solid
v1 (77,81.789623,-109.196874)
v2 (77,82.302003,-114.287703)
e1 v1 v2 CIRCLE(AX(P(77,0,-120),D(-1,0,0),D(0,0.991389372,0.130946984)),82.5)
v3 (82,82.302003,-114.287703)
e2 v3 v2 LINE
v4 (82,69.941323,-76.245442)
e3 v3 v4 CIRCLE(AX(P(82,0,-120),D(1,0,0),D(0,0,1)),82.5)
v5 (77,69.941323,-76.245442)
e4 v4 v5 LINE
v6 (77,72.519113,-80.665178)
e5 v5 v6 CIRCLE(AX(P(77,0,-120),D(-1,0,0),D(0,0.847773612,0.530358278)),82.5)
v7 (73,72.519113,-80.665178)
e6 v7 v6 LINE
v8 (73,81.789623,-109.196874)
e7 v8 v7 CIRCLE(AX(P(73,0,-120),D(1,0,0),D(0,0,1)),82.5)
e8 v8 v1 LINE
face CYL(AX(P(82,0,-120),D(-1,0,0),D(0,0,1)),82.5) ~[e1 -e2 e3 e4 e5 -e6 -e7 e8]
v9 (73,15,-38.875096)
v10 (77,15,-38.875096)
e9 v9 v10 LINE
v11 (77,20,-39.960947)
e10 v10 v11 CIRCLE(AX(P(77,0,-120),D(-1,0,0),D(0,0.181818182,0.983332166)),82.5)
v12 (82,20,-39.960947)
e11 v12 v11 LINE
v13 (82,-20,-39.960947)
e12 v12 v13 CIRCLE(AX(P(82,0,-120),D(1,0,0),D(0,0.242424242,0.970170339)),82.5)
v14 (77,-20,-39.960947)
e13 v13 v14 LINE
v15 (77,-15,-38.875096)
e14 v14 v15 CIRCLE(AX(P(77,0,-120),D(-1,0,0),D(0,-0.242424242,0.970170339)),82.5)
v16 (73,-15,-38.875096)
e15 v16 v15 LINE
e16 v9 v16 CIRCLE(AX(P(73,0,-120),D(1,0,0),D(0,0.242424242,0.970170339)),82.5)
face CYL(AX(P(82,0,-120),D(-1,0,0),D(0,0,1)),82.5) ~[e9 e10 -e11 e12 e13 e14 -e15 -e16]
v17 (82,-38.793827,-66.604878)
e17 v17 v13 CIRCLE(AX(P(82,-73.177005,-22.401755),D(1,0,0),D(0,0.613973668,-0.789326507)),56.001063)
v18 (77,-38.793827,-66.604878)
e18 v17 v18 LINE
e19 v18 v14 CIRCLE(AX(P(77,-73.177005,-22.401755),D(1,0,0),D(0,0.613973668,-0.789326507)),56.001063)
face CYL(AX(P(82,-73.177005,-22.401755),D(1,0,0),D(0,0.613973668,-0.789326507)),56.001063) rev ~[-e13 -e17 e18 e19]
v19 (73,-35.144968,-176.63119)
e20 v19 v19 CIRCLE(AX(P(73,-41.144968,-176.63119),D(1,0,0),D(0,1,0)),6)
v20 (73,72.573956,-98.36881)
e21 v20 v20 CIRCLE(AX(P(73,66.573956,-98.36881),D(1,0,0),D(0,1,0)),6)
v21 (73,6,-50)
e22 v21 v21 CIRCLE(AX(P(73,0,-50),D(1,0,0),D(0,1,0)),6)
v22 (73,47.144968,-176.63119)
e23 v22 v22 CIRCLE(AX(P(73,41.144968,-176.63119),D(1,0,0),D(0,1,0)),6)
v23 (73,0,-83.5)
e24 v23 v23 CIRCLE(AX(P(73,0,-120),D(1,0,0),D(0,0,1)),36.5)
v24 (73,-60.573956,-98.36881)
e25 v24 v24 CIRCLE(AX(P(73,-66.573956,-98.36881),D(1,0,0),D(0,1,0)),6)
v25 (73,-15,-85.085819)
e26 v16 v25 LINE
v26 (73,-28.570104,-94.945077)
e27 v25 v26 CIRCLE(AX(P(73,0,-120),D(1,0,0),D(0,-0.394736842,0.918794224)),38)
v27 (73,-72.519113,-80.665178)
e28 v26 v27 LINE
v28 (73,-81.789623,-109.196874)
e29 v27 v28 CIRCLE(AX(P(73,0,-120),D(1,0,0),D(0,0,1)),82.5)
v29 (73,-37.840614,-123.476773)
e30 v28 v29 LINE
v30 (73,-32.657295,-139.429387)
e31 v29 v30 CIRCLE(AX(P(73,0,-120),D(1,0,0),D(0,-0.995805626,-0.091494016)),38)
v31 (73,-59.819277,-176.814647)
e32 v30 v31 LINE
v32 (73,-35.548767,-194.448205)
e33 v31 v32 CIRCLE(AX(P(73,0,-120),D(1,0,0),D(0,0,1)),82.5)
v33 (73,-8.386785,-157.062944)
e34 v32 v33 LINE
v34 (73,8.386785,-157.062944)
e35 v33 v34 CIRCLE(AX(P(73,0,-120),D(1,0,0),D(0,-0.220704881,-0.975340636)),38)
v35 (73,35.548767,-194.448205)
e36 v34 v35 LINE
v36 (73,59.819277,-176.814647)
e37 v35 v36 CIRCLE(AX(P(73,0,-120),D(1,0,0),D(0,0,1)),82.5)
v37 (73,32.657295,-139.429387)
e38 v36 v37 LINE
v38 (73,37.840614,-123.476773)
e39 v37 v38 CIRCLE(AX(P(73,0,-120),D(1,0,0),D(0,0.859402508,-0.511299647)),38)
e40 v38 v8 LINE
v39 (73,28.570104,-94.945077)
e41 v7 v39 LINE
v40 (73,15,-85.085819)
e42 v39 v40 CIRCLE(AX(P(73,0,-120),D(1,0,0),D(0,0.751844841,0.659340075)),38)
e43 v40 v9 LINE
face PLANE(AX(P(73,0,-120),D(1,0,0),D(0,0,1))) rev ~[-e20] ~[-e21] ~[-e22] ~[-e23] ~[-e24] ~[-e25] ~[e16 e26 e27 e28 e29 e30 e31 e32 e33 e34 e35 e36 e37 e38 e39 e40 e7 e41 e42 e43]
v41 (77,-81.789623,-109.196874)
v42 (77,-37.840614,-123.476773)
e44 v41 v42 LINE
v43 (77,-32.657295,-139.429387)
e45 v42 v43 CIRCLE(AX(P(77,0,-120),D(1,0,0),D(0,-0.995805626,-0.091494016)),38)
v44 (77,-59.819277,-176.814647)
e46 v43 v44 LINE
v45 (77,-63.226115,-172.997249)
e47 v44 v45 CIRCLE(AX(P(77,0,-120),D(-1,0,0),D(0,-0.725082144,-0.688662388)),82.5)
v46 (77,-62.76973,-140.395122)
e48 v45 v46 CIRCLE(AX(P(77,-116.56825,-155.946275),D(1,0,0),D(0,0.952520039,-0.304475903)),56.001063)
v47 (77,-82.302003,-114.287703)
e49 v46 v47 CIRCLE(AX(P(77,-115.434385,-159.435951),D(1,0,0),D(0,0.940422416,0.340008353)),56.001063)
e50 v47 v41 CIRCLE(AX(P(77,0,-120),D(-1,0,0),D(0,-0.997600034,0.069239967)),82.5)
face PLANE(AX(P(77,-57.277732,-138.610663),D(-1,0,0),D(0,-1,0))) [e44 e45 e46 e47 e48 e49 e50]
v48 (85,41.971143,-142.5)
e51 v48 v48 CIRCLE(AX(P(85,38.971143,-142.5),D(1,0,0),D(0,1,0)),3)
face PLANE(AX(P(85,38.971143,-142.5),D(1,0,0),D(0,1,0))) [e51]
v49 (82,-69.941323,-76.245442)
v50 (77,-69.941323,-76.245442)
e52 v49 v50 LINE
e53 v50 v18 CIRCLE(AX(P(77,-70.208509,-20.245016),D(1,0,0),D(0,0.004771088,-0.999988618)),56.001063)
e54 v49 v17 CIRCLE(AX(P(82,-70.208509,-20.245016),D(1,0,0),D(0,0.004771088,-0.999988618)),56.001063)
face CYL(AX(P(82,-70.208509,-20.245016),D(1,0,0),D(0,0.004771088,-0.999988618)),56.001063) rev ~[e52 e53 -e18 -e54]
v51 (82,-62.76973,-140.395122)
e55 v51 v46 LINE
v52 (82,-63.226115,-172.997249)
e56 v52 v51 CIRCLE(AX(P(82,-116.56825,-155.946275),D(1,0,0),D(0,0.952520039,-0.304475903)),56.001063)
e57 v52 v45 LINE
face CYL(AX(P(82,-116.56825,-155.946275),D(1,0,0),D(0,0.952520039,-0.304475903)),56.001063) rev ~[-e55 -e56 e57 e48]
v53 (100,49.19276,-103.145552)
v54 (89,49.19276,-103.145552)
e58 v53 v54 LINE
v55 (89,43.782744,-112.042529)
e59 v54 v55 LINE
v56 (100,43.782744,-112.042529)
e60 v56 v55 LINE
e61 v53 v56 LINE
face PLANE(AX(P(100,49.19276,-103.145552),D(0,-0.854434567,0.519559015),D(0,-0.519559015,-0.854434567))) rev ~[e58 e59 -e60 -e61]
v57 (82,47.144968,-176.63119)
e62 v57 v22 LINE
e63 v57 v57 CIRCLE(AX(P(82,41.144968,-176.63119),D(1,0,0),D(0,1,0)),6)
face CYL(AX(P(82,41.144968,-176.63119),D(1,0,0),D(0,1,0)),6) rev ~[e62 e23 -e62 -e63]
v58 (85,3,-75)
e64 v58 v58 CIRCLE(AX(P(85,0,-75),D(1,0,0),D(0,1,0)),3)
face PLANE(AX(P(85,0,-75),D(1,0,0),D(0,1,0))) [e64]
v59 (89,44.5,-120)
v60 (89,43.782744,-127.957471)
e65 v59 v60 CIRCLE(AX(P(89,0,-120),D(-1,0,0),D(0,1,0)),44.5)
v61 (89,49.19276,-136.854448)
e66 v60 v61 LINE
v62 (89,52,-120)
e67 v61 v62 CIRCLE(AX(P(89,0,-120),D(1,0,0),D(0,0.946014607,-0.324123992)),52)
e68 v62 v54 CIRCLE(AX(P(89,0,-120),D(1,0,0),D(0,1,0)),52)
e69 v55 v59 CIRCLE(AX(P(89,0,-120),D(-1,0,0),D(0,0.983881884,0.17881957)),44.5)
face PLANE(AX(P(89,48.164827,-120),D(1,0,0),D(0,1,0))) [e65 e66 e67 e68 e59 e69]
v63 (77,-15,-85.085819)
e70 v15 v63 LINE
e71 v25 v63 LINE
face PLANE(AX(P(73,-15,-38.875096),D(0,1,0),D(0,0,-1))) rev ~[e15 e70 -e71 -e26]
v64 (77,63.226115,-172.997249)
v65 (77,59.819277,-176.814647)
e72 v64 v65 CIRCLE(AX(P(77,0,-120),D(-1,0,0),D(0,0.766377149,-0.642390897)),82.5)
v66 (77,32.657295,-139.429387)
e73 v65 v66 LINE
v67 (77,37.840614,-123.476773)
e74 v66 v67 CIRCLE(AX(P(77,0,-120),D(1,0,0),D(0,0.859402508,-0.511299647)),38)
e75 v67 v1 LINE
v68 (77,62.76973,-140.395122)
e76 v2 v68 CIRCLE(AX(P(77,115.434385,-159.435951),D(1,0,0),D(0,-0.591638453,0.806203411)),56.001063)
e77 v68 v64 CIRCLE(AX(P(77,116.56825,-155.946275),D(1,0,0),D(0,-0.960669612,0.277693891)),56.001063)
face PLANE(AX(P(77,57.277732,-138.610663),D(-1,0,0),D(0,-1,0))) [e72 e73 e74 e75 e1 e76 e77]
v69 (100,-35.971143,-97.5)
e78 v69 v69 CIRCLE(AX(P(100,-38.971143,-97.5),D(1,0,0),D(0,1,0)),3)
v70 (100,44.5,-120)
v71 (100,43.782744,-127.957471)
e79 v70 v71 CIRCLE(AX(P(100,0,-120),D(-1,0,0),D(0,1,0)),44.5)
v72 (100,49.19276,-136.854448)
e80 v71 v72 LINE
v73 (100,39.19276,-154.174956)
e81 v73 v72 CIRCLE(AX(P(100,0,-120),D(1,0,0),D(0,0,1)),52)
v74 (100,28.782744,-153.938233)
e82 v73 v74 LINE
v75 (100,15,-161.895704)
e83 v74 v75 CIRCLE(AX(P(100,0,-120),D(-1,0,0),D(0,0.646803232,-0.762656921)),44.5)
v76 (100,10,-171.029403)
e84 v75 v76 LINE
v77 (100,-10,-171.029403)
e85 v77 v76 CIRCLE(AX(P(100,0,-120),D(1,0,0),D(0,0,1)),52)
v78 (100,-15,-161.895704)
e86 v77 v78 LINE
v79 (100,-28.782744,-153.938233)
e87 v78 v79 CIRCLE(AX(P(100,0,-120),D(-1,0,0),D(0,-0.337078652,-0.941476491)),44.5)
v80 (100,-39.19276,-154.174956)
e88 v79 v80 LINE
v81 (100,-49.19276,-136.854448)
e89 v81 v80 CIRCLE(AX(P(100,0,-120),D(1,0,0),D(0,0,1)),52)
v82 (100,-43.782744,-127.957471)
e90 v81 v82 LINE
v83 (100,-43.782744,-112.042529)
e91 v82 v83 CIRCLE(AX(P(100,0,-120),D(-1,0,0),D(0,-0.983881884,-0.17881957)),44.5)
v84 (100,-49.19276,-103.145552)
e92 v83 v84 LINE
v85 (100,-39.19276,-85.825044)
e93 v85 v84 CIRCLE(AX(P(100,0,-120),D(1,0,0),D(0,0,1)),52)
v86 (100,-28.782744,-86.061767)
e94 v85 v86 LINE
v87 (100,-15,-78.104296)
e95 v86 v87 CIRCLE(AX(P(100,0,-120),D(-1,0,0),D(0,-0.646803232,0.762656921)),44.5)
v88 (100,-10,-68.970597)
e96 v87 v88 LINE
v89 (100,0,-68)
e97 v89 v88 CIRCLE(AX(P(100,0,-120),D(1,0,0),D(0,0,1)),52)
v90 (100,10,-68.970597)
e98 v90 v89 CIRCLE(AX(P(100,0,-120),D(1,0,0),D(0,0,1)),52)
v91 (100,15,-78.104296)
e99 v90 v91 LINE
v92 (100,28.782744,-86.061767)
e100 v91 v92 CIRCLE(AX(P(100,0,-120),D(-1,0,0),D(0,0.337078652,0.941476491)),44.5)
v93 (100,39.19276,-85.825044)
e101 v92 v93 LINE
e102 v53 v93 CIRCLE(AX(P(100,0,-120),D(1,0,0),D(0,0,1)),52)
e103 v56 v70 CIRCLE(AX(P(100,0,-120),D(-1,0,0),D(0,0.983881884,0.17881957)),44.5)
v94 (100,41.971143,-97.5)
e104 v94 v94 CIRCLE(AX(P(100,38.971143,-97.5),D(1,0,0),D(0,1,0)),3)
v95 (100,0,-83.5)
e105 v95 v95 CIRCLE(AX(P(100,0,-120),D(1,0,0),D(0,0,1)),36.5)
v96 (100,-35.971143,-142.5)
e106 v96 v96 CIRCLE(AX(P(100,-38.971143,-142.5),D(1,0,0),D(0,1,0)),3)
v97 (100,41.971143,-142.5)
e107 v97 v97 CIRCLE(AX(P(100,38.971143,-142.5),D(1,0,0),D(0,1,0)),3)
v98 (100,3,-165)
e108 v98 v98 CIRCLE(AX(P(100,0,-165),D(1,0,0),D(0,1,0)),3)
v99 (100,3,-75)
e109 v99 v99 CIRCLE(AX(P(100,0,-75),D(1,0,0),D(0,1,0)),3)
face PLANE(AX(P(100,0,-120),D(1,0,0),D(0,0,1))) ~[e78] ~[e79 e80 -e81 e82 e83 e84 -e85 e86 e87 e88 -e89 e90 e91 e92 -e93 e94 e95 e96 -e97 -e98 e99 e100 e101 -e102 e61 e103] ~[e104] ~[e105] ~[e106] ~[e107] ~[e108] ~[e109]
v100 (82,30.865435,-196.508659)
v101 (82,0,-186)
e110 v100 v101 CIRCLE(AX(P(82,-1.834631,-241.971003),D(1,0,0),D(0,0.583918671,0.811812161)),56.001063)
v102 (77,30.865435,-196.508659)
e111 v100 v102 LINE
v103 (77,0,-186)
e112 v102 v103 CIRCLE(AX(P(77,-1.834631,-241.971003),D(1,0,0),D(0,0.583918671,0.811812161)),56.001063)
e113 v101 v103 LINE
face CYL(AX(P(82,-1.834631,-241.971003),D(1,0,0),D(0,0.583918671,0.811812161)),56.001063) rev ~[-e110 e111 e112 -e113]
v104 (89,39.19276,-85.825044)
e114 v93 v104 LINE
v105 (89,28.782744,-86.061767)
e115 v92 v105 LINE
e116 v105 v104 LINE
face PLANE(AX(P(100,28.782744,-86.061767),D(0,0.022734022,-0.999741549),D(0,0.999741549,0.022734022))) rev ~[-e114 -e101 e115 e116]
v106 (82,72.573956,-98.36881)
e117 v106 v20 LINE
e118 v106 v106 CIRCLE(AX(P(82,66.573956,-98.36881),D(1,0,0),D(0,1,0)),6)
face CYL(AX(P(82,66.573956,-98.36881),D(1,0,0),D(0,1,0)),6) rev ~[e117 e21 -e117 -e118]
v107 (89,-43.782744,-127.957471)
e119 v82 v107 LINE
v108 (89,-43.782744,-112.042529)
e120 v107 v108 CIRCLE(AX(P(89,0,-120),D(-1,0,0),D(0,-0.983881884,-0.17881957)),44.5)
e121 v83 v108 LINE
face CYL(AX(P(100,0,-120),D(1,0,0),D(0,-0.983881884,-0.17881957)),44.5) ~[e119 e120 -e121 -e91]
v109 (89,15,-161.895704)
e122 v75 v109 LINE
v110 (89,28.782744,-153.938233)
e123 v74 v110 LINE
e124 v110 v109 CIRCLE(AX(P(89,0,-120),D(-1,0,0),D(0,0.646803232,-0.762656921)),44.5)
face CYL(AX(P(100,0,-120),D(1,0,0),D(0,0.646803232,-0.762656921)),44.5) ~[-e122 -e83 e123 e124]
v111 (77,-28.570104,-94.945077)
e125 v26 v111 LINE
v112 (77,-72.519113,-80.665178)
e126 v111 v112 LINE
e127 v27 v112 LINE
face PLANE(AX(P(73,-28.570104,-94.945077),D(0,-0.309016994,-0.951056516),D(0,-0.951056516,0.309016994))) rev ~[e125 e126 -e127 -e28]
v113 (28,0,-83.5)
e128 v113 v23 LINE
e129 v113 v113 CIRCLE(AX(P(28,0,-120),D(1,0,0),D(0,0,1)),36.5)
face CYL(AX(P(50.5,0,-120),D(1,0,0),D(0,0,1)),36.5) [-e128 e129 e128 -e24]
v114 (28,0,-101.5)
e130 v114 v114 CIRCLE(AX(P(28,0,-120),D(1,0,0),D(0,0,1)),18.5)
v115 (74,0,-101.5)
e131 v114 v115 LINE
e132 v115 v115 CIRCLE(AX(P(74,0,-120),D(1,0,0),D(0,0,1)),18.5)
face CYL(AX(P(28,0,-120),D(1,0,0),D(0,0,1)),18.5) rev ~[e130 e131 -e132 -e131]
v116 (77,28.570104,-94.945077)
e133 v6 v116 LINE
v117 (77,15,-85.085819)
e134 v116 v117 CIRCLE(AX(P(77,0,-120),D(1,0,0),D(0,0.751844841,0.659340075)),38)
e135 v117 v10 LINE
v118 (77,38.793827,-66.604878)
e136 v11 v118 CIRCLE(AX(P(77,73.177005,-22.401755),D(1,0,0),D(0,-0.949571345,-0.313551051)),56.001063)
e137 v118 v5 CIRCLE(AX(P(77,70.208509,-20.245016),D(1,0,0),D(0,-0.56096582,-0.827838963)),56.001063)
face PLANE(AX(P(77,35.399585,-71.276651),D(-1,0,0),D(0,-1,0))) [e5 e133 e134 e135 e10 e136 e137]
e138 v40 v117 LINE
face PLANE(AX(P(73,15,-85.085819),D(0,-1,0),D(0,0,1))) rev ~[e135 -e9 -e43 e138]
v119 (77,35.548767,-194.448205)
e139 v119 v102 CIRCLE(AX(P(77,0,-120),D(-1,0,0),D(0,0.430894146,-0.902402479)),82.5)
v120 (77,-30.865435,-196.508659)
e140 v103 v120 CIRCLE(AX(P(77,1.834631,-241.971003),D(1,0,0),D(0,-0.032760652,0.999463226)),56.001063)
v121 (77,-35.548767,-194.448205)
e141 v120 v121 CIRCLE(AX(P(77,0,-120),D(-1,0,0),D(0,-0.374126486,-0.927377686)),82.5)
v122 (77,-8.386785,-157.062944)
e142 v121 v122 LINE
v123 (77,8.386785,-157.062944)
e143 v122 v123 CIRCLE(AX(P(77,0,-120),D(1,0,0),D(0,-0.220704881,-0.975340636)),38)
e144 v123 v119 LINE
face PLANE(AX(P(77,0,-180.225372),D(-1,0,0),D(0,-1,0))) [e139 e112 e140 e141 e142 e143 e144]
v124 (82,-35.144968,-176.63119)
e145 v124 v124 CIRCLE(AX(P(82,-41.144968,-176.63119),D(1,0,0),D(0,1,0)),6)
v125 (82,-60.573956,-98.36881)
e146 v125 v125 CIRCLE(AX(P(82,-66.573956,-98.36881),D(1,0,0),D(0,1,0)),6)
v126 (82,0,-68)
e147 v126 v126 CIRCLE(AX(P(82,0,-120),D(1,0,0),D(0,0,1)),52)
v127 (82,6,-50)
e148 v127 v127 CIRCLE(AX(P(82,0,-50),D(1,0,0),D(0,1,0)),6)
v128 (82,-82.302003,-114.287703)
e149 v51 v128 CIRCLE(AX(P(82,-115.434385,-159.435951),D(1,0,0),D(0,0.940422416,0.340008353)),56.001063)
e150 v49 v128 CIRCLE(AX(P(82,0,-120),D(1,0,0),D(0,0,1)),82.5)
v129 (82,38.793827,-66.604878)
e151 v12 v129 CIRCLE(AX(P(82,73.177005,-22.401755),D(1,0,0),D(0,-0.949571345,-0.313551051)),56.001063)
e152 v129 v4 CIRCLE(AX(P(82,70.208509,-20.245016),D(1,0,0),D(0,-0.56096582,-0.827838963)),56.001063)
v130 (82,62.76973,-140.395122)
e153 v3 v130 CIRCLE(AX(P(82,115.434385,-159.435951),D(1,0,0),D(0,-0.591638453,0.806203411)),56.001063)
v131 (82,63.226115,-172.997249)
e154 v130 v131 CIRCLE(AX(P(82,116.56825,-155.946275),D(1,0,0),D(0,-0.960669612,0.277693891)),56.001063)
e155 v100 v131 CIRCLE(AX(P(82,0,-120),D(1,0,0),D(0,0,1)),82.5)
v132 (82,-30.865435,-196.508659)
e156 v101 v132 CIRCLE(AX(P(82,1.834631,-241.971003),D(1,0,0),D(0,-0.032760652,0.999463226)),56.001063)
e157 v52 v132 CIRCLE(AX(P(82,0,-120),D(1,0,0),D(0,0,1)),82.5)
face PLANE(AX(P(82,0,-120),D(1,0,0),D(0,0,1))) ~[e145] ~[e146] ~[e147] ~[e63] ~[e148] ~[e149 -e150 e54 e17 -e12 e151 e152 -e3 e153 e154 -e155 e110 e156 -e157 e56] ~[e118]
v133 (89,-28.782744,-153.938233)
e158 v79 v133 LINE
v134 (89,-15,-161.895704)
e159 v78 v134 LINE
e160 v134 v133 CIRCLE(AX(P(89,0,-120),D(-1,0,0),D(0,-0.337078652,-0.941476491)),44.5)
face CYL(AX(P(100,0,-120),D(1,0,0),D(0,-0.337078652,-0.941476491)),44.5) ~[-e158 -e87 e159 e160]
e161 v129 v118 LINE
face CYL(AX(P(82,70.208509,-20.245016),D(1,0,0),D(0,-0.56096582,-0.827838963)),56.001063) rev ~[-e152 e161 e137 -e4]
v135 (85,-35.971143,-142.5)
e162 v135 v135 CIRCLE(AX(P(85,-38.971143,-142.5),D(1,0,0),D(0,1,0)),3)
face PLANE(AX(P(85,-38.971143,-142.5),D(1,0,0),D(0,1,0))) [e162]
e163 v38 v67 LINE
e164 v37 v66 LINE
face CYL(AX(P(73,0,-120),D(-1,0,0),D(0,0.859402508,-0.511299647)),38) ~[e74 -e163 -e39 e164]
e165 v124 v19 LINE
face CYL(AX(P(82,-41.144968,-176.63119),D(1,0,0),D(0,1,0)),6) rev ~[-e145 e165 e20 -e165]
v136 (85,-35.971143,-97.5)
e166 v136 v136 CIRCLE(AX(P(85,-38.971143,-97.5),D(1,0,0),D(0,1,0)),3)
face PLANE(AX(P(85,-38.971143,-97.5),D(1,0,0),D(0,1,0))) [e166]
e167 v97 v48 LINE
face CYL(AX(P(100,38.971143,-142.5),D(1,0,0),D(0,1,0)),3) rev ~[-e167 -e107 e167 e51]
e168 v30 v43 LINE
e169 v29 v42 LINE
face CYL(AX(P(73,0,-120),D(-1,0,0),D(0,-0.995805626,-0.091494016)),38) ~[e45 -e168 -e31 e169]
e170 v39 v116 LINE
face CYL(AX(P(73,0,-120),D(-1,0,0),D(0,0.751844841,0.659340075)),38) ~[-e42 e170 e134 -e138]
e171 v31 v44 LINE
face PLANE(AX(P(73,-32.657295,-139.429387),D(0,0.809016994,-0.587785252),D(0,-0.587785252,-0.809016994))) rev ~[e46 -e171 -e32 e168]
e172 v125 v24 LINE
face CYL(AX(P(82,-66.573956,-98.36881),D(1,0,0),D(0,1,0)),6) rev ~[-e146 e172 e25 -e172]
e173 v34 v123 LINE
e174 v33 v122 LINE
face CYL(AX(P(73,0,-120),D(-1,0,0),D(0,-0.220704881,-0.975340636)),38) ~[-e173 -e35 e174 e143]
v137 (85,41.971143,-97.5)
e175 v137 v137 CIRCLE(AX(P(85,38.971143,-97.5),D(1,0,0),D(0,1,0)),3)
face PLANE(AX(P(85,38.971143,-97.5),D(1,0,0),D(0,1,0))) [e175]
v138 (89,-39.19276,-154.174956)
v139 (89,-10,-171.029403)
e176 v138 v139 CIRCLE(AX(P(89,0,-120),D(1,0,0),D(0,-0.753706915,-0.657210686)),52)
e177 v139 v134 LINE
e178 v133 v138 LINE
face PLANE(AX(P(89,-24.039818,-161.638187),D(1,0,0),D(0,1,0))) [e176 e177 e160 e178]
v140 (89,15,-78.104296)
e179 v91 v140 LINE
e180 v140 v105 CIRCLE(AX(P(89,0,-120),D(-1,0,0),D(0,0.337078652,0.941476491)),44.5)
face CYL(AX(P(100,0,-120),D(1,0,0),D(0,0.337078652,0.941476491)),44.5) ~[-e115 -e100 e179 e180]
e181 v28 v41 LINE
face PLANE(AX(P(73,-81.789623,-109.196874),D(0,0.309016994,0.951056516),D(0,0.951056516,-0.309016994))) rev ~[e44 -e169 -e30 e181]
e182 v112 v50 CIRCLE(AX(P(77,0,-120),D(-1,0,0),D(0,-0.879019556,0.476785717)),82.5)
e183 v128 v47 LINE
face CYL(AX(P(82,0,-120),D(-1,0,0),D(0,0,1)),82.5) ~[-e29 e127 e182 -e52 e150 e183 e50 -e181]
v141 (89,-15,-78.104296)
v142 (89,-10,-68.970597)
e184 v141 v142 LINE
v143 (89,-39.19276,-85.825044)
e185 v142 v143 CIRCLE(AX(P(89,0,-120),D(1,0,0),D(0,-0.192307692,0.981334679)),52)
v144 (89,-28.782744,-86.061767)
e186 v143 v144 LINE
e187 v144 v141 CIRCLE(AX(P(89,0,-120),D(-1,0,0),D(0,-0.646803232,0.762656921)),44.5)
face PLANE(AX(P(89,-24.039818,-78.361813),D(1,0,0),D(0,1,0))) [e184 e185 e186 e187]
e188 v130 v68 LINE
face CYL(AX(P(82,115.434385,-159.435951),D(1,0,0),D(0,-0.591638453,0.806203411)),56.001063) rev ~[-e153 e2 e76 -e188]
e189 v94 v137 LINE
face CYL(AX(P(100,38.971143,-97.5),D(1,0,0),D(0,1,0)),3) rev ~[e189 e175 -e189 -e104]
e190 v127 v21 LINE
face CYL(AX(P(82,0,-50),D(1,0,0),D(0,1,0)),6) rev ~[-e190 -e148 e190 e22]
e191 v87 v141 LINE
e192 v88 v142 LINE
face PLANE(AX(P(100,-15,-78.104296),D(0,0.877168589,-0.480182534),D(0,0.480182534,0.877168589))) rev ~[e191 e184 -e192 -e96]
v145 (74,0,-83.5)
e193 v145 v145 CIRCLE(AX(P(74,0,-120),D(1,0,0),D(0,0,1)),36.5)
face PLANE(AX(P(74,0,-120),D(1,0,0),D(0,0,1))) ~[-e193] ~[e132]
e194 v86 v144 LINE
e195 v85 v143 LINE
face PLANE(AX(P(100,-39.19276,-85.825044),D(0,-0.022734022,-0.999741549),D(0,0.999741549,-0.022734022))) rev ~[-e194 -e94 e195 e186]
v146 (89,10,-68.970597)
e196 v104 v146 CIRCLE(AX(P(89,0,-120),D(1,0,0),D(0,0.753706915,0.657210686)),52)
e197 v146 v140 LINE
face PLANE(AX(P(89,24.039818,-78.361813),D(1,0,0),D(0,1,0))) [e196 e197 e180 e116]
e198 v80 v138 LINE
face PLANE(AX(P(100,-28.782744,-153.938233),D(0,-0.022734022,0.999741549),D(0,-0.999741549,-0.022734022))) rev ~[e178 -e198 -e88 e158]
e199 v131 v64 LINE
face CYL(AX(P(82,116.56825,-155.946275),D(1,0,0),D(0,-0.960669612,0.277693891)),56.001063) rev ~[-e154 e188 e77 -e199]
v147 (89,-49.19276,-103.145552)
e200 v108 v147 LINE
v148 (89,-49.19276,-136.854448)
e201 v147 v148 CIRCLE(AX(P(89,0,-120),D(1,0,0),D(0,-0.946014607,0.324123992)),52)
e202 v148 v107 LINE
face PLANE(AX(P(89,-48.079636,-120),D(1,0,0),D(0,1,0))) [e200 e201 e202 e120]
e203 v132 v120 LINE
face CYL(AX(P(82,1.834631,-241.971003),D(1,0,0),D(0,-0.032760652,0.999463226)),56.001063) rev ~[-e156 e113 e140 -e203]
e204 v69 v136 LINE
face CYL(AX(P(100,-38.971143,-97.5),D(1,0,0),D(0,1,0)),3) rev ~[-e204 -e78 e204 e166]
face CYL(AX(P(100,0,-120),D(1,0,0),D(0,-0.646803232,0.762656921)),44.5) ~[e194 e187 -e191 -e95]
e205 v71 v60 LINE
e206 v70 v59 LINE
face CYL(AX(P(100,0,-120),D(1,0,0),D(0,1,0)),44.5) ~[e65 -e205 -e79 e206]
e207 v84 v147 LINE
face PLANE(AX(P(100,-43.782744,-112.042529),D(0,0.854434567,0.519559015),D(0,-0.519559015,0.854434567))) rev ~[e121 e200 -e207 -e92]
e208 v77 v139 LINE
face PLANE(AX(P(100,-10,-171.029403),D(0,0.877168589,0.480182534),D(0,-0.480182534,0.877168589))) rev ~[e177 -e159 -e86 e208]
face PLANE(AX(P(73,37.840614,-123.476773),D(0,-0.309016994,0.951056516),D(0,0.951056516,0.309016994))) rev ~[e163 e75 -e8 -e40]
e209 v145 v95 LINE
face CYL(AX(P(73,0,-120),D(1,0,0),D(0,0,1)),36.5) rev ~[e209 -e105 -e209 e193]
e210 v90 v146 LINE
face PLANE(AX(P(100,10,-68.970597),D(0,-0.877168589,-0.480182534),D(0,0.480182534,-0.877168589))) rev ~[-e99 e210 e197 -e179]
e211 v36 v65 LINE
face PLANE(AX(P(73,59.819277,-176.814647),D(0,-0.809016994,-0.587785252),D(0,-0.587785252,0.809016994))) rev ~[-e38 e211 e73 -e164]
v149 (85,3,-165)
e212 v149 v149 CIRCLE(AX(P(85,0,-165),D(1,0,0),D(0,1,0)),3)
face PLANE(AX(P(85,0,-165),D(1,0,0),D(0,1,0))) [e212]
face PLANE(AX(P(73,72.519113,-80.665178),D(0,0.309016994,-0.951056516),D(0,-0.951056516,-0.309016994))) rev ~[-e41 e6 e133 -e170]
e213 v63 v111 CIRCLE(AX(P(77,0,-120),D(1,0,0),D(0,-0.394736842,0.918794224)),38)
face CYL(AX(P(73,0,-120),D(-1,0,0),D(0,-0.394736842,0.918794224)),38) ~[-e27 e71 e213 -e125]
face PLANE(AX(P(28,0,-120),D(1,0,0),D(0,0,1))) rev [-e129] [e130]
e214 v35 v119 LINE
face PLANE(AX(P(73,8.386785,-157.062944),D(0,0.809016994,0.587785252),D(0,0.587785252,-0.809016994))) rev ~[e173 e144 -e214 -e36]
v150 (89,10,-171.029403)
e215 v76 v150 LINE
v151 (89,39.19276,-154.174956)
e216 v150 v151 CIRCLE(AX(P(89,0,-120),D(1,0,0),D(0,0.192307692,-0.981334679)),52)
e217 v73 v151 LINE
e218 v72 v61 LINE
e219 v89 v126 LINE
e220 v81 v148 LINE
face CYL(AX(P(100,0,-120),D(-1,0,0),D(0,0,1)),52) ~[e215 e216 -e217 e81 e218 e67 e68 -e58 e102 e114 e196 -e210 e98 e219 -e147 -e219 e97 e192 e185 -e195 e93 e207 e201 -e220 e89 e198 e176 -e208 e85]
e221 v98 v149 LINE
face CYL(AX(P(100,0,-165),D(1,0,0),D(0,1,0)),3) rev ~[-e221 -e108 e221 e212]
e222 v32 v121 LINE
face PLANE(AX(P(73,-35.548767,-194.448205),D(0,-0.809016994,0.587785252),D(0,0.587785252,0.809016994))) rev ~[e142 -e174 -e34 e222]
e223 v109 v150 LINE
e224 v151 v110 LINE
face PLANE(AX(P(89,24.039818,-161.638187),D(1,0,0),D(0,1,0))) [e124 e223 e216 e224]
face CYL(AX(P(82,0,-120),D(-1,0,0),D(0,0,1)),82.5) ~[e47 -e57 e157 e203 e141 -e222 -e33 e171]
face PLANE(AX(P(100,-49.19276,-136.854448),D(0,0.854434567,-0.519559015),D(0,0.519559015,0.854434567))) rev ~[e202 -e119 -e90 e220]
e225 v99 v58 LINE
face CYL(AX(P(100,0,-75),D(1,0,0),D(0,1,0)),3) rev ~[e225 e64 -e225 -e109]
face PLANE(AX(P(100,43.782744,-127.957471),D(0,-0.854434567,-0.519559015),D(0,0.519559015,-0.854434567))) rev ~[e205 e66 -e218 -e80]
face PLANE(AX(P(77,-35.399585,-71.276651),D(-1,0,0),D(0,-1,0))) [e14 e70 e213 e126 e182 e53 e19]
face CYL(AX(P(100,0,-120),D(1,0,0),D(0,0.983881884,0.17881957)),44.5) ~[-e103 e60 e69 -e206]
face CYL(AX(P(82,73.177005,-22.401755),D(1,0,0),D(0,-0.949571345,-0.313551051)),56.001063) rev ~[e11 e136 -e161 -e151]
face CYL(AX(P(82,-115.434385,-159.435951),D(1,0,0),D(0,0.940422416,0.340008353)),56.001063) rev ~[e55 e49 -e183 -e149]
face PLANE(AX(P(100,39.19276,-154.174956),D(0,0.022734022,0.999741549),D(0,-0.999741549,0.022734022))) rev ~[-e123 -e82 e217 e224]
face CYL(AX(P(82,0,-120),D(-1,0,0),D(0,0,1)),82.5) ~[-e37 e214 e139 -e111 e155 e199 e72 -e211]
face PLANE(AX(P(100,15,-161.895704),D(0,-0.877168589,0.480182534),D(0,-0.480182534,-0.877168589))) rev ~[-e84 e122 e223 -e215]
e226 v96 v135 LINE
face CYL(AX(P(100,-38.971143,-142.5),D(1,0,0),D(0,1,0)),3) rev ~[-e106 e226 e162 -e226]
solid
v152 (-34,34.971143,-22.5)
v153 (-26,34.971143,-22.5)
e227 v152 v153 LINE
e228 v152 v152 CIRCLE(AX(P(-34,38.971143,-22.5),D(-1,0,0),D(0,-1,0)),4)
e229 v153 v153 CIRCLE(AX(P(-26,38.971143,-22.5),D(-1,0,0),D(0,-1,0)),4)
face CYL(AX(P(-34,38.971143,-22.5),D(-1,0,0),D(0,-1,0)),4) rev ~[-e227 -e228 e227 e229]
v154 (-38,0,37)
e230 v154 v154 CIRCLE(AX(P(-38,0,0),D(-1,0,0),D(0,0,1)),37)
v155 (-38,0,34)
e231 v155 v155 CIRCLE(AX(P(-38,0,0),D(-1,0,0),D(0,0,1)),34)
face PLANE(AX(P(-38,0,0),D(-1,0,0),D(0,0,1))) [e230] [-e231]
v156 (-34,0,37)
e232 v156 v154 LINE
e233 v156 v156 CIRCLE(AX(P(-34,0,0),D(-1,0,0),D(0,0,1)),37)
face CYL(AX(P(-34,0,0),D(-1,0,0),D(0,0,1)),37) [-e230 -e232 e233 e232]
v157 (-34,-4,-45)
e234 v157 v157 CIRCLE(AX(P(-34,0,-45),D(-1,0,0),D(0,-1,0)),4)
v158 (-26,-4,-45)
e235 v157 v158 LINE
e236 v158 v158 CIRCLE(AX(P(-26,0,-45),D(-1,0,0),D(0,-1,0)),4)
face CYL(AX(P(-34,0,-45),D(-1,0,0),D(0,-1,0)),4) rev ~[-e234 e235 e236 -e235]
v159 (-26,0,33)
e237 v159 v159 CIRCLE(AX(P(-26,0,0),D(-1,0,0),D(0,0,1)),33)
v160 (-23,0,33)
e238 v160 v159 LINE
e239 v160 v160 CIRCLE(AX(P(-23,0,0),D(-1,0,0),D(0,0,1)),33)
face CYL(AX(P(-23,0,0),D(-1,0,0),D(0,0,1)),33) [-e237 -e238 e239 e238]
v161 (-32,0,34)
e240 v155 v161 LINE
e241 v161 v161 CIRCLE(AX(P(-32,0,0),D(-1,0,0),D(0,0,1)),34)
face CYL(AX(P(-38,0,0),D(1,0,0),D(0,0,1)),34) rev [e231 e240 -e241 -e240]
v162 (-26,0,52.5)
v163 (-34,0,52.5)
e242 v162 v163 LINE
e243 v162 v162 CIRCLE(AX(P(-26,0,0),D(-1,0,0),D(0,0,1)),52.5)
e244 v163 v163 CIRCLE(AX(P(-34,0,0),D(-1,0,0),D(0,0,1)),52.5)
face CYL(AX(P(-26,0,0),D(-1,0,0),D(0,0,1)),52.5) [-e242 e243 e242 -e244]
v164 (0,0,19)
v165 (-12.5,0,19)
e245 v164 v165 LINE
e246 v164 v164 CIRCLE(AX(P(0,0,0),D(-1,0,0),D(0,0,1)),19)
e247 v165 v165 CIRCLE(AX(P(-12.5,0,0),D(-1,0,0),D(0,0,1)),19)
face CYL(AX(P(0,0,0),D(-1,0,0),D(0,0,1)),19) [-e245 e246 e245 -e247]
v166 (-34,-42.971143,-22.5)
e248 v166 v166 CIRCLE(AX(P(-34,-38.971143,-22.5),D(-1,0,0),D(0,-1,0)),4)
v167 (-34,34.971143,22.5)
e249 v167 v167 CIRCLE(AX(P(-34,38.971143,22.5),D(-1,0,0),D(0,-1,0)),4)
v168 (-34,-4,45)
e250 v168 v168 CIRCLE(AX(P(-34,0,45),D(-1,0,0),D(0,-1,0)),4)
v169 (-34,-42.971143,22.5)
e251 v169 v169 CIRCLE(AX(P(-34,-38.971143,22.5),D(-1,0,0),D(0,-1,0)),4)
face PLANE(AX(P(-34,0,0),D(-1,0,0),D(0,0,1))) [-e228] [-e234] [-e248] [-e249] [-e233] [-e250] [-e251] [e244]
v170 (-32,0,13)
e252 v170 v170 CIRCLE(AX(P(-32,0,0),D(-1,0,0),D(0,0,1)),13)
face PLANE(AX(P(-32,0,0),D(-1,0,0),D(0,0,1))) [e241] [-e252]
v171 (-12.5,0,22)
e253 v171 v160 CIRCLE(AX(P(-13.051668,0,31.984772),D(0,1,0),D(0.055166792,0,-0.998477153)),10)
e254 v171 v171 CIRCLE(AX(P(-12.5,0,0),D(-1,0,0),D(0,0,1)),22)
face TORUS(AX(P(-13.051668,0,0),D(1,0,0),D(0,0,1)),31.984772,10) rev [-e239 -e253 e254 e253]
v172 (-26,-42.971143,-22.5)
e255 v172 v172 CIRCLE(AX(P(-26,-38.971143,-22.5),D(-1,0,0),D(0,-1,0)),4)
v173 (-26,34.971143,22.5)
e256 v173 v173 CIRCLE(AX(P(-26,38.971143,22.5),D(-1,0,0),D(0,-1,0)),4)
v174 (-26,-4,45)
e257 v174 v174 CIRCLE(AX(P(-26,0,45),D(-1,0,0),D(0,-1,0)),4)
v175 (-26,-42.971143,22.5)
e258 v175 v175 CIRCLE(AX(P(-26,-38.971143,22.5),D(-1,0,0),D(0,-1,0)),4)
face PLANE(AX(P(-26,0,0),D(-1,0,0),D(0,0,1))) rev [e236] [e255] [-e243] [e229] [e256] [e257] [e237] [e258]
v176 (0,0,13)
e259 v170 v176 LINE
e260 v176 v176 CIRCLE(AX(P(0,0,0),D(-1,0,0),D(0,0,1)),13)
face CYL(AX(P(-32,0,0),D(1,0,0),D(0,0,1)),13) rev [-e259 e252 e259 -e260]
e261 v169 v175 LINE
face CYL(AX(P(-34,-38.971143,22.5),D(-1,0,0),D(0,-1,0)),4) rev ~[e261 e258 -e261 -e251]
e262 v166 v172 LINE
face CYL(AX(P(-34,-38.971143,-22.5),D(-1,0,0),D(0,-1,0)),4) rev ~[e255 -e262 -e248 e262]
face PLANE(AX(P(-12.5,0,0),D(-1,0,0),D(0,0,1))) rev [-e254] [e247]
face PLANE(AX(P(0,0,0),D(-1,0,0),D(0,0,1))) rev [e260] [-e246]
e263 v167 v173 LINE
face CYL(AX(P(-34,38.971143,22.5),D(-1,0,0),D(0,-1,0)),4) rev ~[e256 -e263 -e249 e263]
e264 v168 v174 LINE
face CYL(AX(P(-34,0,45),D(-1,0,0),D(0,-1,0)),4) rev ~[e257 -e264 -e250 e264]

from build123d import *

# Parameters (mm, degrees)
F2_R      = 4
F3_DEPTH  = 8
F4_W      = 1
F4_H      = 18
F4_W_2    = 45
F6_R      = 6
F7_DEPTH  = 9
F9_DEPTH  = 9
F10_R     = 3
F11_DEPTH = 15
F13_DEPTH = 11
F15_DEPTH = 4


with BuildPart() as f1:
    # F0 (on Front) → F1 (revolve)
    with BuildSketch(Plane.XZ):
        with BuildLine():
            Line((0, 13), (0, 19))
            Line((0, 19), (-12.5, 19))
            Line((-12.5, 19), (-12.5, 22))
            ThreePointArc((-12.5, 22), (-20.2852233625, 25.0800140631), (-23, 33))
            Line((-23, 33), (-26, 33))
            Line((-26, 33), (-26, 52.5))
            Line((-26, 52.5), (-34, 52.5))
            Line((-34, 52.5), (-34, 37))
            Line((-34, 37), (-32, 37))
            Line((-32, 37), (-32, 34))
            Line((-32, 34), (-32, 13))
            Line((-32, 13), (0, 13))
        make_face()
        Polygon((-38, 34), (-32, 34), (-32, 37), (-34, 37), (-38, 37), align=None)
    revolve(axis=Axis((-19, 0, 0), (-1, 0, 0)))

    # F2 (on face) → F3 (cut)
    with BuildSketch(Plane(origin=(-34, 0, 0), x_dir=(0, -1, 0), z_dir=(-1, 0, 0))):
        with Locations((0, 45)):
            Circle(F2_R)
        with Locations((-38.9711431703, 22.5)):
            Circle(F2_R)
        with Locations((-38.9711431703, -22.5)):
            Circle(F2_R)
        with Locations((0, -45)):
            Circle(F2_R)
        with Locations((38.9711431703, -22.5)):
            Circle(F2_R)
        with Locations((38.9711431703, 22.5)):
            Circle(F2_R)
    extrude(amount=-F3_DEPTH, mode=Mode.SUBTRACT)


with BuildPart() as f5:
    # F4 (on Front) → F5 (revolve)
    with BuildSketch(Plane.XZ):
        Polygon((100, -83.5), (100, -68), (82, -68), (82, -37.5), (73, -37.5), (73, -83.5), (74, -83.5), align=None)
        with Locations((73.5, -92.5)):
            Rectangle(F4_W, F4_H)
        with Locations((50.5, -92.5)):
            Rectangle(F4_W_2, F4_H)
    revolve(axis=Axis((50, 0, -120), (1, 0, 0)))

    # F6 (on face) → F7 (cut)
    with BuildSketch(Plane.YZ.offset(82)):
        with Locations((0, -50)):
            Circle(F6_R)
        with Locations((66.5739561407, -98.3688103938)):
            Circle(F6_R)
        with Locations((41.1449676605, -176.6311896062)):
            Circle(F6_R)
        with Locations((-41.1449676605, -176.6311896062)):
            Circle(F6_R)
        with Locations((-66.5739561407, -98.3688103938)):
            Circle(F6_R)
    extrude(amount=-F7_DEPTH, mode=Mode.SUBTRACT)

    # F8 (on face) → F9 (cut)
    with BuildSketch(Plane.YZ.offset(82)):
        with BuildLine():
            ThreePointArc((-20, -39.9609470321), (-48.4922833141, -53.2560979641), (-69.9413229957, -76.2454420933))
            ThreePointArc((-69.9413229957, -76.2454420933), (-53.6504199543, -73.7422009481), (-38.7938266513, -66.6048783713))
            ThreePointArc((-38.7938266513, -66.6048783713), (-27.4148896965, -54.6809724711), (-20, -39.9609470321))
        make_face()
        with BuildLine():
            ThreePointArc((69.9413229957, -76.2454420933), (48.4922833141, -53.2560979641), (20, -39.9609470321))
            ThreePointArc((20, -39.9609470321), (27.4148896965, -54.6809724711), (38.7938266513, -66.6048783713))
            ThreePointArc((38.7938266513, -66.6048783713), (53.6504199543, -73.7422009481), (69.9413229957, -76.2454420933))
        make_face()
        with BuildLine():
            ThreePointArc((82.3020027707, -114.2877027451), (70.5937535846, -125.8884199269), (62.7697300755, -140.3951216287))
            ThreePointArc((62.7697300755, -140.3951216287), (60.572672739, -156.7301354701), (63.2261148295, -172.9972490189))
            ThreePointArc((63.2261148295, -172.9972490189), (77.5319433312, -148.1965913416), (82.5, -120))
            ThreePointArc((82.5, -120), (82.4504858342, -117.1421361636), (82.3020027707, -114.2877027451))
        make_face()
        with BuildLine():
            ThreePointArc((0, -186), (-16.2144494122, -188.9582711838), (-30.8654350545, -196.5086591106))
            ThreePointArc((-30.8654350545, -196.5086591106), (0, -202.5), (30.8654350545, -196.5086591106))
            ThreePointArc((30.8654350545, -196.5086591106), (16.2144494122, -188.9582711838), (0, -186))
        make_face()
        with BuildLine():
            ThreePointArc((-62.7697300755, -140.3951216287), (-70.5937535846, -125.8884199269), (-82.3020027707, -114.2877027451))
            ThreePointArc((-82.3020027707, -114.2877027451), (-78.4621625944, -145.4939020359), (-63.2261148295, -172.9972490189))
            ThreePointArc((-63.2261148295, -172.9972490189), (-60.572672739, -156.7301354701), (-62.7697300755, -140.3951216287))
        make_face()
    extrude(amount=-F9_DEPTH, mode=Mode.SUBTRACT)

    # F10 (on face) → F11 (cut)
    with BuildSketch(Plane.YZ.offset(100)):
        with Locations((0, -75)):
            Circle(F10_R)
        with Locations((-38.9711431703, -97.5)):
            Circle(F10_R)
        with Locations((-38.9711431703, -142.5)):
            Circle(F10_R)
        with Locations((0, -165)):
            Circle(F10_R)
        with Locations((38.9711431703, -142.5)):
            Circle(F10_R)
        with Locations((38.9711431703, -97.5)):
            Circle(F10_R)
    extrude(amount=-F11_DEPTH, mode=Mode.SUBTRACT)

    # F12 (on face) → F13 (cut)
    with BuildSketch(Plane.YZ.offset(100)):
        with BuildLine():
            ThreePointArc((52, -120), (51.2933889433, -111.4566838574), (49.192759588, -103.1455523935))
            Line((49.192759588, -103.1455523935), (43.7827438323, -112.0425291383))
            ThreePointArc((43.7827438323, -112.0425291383), (44.3203232194, -116.0051345791), (44.5, -120))
            ThreePointArc((44.5, -120), (44.3203232194, -123.9948654209), (43.7827438323, -127.9574708617))
            Line((43.7827438323, -127.9574708617), (49.192759588, -136.8544476065))
            ThreePointArc((49.192759588, -136.8544476065), (51.2933889433, -128.5433161426), (52, -120))
        make_face()
        with BuildLine():
            ThreePointArc((-28.7827438323, -86.0617670247), (-22.25, -81.4618695316), (-15, -78.104296163))
            Line((-15, -78.104296163), (-10, -68.9705967113))
            ThreePointArc((-10, -68.9705967113), (-26, -74.9666790032), (-39.192759588, -85.8250443178))
            Line((-39.192759588, -85.8250443178), (-28.7827438323, -86.0617670247))
        make_face()
        with BuildLine():
            Line((10, -68.9705967113), (15, -78.104296163))
            ThreePointArc((15, -78.104296163), (22.25, -81.4618695316), (28.7827438323, -86.0617670247))
            Line((28.7827438323, -86.0617670247), (39.192759588, -85.8250443178))
            ThreePointArc((39.192759588, -85.8250443178), (26, -74.9666790032), (10, -68.9705967113))
        make_face()
        with BuildLine():
            Line((-43.7827438323, -112.0425291383), (-49.192759588, -103.1455523935))
            ThreePointArc((-49.192759588, -103.1455523935), (-52, -120), (-49.192759588, -136.8544476065))
            Line((-49.192759588, -136.8544476065), (-43.7827438323, -127.9574708617))
            ThreePointArc((-43.7827438323, -127.9574708617), (-44.5, -120), (-43.7827438323, -112.0425291383))
        make_face()
        with BuildLine():
            Line((-28.7827438323, -153.9382329753), (-39.192759588, -154.1749556822))
            ThreePointArc((-39.192759588, -154.1749556822), (-26, -165.0333209968), (-10, -171.0294032887))
            Line((-10, -171.0294032887), (-15, -161.895703837))
            ThreePointArc((-15, -161.895703837), (-22.25, -158.5381304684), (-28.7827438323, -153.9382329753))
        make_face()
        with BuildLine():
            ThreePointArc((10, -171.0294032887), (26, -165.0333209968), (39.192759588, -154.1749556822))
            Line((39.192759588, -154.1749556822), (28.7827438323, -153.9382329753))
            ThreePointArc((28.7827438323, -153.9382329753), (22.25, -158.5381304684), (15, -161.895703837))
            Line((15, -161.895703837), (10, -171.0294032887))
        make_face()
    extrude(amount=-F13_DEPTH, mode=Mode.SUBTRACT)

    # F14 (on face) → F15 (cut)
    with BuildSketch(Plane(origin=(73, 0, 0), x_dir=(0, -1, 0), z_dir=(-1, 0, 0))):
        with BuildLine():
            ThreePointArc((-28.5701039602, -94.9450771363), (-22.3358395871, -89.2573542138), (-15, -85.0858194998))
            Line((-15, -85.0858194998), (-15, -38.8750963021))
            ThreePointArc((-15, -38.8750963021), (-17.5084199159, -39.379250611), (-20, -39.9609470321))
            ThreePointArc((-20, -39.9609470321), (-27.4148896965, -54.6809724711), (-38.7938266513, -66.6048783713))
            ThreePointArc((-38.7938266513, -66.6048783713), (-53.6504199543, -73.7422009481), (-69.9413229957, -76.2454420933))
            ThreePointArc((-69.9413229957, -76.2454420933), (-71.2644897564, -78.4353214885), (-72.5191133801, -80.6651783459))
            Line((-72.5191133801, -80.6651783459), (-28.5701039602, -94.9450771363))
        make_face()
        with BuildLine():
            ThreePointArc((-32.6572953095, -139.4293865849), (-36.1401476192, -131.7426457862), (-37.8406137914, -123.4767726252))
            Line((-37.8406137914, -123.4767726252), (-81.7896232114, -109.1968738347))
            ThreePointArc((-81.7896232114, -109.1968738347), (-82.0852883537, -111.7383151906), (-82.3020027707, -114.2877027451))
            ThreePointArc((-82.3020027707, -114.2877027451), (-70.5937535846, -125.8884199269), (-62.7697300755, -140.3951216287))
            ThreePointArc((-62.7697300755, -140.3951216287), (-60.572672739, -156.7301354701), (-63.2261148295, -172.9972490189))
            ThreePointArc((-63.2261148295, -172.9972490189), (-61.5522967763, -174.9323653374), (-59.8192769029, -176.8146469743))
            Line((-59.8192769029, -176.8146469743), (-32.6572953095, -139.4293865849))
        make_face()
        with BuildLine():
            ThreePointArc((8.3867854783, -157.0629441537), (0, -158), (-8.3867854783, -157.0629441537))
            Line((-8.3867854783, -157.0629441537), (-35.5487670717, -194.4482045431))
            ThreePointArc((-35.5487670717, -194.4482045431), (-33.223078263, -195.5147473725), (-30.8654350545, -196.5086591106))
            ThreePointArc((-30.8654350545, -196.5086591106), (-16.2144494122, -188.9582711838), (0, -186))
            ThreePointArc((0, -186), (16.2144494122, -188.9582711838), (30.8654350545, -196.5086591106))
            ThreePointArc((30.8654350545, -196.5086591106), (33.223078263, -195.5147473725), (35.5487670717, -194.4482045431))
            Line((35.5487670717, -194.4482045431), (8.3867854783, -157.0629441537))
        make_face()
        with BuildLine():
            ThreePointArc((82.3020027707, -114.2877027451), (82.0852883537, -111.7383151906), (81.7896232114, -109.1968738347))
            Line((81.7896232114, -109.1968738347), (37.8406137914, -123.4767726252))
            ThreePointArc((37.8406137914, -123.4767726252), (36.1401476192, -131.7426457862), (32.6572953095, -139.4293865849))
            Line((32.6572953095, -139.4293865849), (59.8192769029, -176.8146469743))
            ThreePointArc((59.8192769029, -176.8146469743), (61.5522967763, -174.9323653374), (63.2261148295, -172.9972490189))
            ThreePointArc((63.2261148295, -172.9972490189), (60.572672739, -156.7301354701), (62.7697300755, -140.3951216287))
            ThreePointArc((62.7697300755, -140.3951216287), (70.5937535846, -125.8884199269), (82.3020027707, -114.2877027451))
        make_face()
        with BuildLine():
            Line((15, -38.8750963021), (15, -85.0858194998))
            ThreePointArc((15, -85.0858194998), (22.3358395871, -89.2573542138), (28.5701039602, -94.9450771363))
            Line((28.5701039602, -94.9450771363), (72.5191133801, -80.6651783459))
            ThreePointArc((72.5191133801, -80.6651783459), (71.2644897564, -78.4353214885), (69.9413229957, -76.2454420933))
            ThreePointArc((69.9413229957, -76.2454420933), (53.6504199543, -73.7422009481), (38.7938266513, -66.6048783713))
            ThreePointArc((38.7938266513, -66.6048783713), (27.4148896965, -54.6809724711), (20, -39.9609470321))
            ThreePointArc((20, -39.9609470321), (17.5084199159, -39.379250611), (15, -38.8750963021))
        make_face()
    extrude(amount=-F15_DEPTH, mode=Mode.SUBTRACT)


solid = Compound([f1.part, f5.part])
